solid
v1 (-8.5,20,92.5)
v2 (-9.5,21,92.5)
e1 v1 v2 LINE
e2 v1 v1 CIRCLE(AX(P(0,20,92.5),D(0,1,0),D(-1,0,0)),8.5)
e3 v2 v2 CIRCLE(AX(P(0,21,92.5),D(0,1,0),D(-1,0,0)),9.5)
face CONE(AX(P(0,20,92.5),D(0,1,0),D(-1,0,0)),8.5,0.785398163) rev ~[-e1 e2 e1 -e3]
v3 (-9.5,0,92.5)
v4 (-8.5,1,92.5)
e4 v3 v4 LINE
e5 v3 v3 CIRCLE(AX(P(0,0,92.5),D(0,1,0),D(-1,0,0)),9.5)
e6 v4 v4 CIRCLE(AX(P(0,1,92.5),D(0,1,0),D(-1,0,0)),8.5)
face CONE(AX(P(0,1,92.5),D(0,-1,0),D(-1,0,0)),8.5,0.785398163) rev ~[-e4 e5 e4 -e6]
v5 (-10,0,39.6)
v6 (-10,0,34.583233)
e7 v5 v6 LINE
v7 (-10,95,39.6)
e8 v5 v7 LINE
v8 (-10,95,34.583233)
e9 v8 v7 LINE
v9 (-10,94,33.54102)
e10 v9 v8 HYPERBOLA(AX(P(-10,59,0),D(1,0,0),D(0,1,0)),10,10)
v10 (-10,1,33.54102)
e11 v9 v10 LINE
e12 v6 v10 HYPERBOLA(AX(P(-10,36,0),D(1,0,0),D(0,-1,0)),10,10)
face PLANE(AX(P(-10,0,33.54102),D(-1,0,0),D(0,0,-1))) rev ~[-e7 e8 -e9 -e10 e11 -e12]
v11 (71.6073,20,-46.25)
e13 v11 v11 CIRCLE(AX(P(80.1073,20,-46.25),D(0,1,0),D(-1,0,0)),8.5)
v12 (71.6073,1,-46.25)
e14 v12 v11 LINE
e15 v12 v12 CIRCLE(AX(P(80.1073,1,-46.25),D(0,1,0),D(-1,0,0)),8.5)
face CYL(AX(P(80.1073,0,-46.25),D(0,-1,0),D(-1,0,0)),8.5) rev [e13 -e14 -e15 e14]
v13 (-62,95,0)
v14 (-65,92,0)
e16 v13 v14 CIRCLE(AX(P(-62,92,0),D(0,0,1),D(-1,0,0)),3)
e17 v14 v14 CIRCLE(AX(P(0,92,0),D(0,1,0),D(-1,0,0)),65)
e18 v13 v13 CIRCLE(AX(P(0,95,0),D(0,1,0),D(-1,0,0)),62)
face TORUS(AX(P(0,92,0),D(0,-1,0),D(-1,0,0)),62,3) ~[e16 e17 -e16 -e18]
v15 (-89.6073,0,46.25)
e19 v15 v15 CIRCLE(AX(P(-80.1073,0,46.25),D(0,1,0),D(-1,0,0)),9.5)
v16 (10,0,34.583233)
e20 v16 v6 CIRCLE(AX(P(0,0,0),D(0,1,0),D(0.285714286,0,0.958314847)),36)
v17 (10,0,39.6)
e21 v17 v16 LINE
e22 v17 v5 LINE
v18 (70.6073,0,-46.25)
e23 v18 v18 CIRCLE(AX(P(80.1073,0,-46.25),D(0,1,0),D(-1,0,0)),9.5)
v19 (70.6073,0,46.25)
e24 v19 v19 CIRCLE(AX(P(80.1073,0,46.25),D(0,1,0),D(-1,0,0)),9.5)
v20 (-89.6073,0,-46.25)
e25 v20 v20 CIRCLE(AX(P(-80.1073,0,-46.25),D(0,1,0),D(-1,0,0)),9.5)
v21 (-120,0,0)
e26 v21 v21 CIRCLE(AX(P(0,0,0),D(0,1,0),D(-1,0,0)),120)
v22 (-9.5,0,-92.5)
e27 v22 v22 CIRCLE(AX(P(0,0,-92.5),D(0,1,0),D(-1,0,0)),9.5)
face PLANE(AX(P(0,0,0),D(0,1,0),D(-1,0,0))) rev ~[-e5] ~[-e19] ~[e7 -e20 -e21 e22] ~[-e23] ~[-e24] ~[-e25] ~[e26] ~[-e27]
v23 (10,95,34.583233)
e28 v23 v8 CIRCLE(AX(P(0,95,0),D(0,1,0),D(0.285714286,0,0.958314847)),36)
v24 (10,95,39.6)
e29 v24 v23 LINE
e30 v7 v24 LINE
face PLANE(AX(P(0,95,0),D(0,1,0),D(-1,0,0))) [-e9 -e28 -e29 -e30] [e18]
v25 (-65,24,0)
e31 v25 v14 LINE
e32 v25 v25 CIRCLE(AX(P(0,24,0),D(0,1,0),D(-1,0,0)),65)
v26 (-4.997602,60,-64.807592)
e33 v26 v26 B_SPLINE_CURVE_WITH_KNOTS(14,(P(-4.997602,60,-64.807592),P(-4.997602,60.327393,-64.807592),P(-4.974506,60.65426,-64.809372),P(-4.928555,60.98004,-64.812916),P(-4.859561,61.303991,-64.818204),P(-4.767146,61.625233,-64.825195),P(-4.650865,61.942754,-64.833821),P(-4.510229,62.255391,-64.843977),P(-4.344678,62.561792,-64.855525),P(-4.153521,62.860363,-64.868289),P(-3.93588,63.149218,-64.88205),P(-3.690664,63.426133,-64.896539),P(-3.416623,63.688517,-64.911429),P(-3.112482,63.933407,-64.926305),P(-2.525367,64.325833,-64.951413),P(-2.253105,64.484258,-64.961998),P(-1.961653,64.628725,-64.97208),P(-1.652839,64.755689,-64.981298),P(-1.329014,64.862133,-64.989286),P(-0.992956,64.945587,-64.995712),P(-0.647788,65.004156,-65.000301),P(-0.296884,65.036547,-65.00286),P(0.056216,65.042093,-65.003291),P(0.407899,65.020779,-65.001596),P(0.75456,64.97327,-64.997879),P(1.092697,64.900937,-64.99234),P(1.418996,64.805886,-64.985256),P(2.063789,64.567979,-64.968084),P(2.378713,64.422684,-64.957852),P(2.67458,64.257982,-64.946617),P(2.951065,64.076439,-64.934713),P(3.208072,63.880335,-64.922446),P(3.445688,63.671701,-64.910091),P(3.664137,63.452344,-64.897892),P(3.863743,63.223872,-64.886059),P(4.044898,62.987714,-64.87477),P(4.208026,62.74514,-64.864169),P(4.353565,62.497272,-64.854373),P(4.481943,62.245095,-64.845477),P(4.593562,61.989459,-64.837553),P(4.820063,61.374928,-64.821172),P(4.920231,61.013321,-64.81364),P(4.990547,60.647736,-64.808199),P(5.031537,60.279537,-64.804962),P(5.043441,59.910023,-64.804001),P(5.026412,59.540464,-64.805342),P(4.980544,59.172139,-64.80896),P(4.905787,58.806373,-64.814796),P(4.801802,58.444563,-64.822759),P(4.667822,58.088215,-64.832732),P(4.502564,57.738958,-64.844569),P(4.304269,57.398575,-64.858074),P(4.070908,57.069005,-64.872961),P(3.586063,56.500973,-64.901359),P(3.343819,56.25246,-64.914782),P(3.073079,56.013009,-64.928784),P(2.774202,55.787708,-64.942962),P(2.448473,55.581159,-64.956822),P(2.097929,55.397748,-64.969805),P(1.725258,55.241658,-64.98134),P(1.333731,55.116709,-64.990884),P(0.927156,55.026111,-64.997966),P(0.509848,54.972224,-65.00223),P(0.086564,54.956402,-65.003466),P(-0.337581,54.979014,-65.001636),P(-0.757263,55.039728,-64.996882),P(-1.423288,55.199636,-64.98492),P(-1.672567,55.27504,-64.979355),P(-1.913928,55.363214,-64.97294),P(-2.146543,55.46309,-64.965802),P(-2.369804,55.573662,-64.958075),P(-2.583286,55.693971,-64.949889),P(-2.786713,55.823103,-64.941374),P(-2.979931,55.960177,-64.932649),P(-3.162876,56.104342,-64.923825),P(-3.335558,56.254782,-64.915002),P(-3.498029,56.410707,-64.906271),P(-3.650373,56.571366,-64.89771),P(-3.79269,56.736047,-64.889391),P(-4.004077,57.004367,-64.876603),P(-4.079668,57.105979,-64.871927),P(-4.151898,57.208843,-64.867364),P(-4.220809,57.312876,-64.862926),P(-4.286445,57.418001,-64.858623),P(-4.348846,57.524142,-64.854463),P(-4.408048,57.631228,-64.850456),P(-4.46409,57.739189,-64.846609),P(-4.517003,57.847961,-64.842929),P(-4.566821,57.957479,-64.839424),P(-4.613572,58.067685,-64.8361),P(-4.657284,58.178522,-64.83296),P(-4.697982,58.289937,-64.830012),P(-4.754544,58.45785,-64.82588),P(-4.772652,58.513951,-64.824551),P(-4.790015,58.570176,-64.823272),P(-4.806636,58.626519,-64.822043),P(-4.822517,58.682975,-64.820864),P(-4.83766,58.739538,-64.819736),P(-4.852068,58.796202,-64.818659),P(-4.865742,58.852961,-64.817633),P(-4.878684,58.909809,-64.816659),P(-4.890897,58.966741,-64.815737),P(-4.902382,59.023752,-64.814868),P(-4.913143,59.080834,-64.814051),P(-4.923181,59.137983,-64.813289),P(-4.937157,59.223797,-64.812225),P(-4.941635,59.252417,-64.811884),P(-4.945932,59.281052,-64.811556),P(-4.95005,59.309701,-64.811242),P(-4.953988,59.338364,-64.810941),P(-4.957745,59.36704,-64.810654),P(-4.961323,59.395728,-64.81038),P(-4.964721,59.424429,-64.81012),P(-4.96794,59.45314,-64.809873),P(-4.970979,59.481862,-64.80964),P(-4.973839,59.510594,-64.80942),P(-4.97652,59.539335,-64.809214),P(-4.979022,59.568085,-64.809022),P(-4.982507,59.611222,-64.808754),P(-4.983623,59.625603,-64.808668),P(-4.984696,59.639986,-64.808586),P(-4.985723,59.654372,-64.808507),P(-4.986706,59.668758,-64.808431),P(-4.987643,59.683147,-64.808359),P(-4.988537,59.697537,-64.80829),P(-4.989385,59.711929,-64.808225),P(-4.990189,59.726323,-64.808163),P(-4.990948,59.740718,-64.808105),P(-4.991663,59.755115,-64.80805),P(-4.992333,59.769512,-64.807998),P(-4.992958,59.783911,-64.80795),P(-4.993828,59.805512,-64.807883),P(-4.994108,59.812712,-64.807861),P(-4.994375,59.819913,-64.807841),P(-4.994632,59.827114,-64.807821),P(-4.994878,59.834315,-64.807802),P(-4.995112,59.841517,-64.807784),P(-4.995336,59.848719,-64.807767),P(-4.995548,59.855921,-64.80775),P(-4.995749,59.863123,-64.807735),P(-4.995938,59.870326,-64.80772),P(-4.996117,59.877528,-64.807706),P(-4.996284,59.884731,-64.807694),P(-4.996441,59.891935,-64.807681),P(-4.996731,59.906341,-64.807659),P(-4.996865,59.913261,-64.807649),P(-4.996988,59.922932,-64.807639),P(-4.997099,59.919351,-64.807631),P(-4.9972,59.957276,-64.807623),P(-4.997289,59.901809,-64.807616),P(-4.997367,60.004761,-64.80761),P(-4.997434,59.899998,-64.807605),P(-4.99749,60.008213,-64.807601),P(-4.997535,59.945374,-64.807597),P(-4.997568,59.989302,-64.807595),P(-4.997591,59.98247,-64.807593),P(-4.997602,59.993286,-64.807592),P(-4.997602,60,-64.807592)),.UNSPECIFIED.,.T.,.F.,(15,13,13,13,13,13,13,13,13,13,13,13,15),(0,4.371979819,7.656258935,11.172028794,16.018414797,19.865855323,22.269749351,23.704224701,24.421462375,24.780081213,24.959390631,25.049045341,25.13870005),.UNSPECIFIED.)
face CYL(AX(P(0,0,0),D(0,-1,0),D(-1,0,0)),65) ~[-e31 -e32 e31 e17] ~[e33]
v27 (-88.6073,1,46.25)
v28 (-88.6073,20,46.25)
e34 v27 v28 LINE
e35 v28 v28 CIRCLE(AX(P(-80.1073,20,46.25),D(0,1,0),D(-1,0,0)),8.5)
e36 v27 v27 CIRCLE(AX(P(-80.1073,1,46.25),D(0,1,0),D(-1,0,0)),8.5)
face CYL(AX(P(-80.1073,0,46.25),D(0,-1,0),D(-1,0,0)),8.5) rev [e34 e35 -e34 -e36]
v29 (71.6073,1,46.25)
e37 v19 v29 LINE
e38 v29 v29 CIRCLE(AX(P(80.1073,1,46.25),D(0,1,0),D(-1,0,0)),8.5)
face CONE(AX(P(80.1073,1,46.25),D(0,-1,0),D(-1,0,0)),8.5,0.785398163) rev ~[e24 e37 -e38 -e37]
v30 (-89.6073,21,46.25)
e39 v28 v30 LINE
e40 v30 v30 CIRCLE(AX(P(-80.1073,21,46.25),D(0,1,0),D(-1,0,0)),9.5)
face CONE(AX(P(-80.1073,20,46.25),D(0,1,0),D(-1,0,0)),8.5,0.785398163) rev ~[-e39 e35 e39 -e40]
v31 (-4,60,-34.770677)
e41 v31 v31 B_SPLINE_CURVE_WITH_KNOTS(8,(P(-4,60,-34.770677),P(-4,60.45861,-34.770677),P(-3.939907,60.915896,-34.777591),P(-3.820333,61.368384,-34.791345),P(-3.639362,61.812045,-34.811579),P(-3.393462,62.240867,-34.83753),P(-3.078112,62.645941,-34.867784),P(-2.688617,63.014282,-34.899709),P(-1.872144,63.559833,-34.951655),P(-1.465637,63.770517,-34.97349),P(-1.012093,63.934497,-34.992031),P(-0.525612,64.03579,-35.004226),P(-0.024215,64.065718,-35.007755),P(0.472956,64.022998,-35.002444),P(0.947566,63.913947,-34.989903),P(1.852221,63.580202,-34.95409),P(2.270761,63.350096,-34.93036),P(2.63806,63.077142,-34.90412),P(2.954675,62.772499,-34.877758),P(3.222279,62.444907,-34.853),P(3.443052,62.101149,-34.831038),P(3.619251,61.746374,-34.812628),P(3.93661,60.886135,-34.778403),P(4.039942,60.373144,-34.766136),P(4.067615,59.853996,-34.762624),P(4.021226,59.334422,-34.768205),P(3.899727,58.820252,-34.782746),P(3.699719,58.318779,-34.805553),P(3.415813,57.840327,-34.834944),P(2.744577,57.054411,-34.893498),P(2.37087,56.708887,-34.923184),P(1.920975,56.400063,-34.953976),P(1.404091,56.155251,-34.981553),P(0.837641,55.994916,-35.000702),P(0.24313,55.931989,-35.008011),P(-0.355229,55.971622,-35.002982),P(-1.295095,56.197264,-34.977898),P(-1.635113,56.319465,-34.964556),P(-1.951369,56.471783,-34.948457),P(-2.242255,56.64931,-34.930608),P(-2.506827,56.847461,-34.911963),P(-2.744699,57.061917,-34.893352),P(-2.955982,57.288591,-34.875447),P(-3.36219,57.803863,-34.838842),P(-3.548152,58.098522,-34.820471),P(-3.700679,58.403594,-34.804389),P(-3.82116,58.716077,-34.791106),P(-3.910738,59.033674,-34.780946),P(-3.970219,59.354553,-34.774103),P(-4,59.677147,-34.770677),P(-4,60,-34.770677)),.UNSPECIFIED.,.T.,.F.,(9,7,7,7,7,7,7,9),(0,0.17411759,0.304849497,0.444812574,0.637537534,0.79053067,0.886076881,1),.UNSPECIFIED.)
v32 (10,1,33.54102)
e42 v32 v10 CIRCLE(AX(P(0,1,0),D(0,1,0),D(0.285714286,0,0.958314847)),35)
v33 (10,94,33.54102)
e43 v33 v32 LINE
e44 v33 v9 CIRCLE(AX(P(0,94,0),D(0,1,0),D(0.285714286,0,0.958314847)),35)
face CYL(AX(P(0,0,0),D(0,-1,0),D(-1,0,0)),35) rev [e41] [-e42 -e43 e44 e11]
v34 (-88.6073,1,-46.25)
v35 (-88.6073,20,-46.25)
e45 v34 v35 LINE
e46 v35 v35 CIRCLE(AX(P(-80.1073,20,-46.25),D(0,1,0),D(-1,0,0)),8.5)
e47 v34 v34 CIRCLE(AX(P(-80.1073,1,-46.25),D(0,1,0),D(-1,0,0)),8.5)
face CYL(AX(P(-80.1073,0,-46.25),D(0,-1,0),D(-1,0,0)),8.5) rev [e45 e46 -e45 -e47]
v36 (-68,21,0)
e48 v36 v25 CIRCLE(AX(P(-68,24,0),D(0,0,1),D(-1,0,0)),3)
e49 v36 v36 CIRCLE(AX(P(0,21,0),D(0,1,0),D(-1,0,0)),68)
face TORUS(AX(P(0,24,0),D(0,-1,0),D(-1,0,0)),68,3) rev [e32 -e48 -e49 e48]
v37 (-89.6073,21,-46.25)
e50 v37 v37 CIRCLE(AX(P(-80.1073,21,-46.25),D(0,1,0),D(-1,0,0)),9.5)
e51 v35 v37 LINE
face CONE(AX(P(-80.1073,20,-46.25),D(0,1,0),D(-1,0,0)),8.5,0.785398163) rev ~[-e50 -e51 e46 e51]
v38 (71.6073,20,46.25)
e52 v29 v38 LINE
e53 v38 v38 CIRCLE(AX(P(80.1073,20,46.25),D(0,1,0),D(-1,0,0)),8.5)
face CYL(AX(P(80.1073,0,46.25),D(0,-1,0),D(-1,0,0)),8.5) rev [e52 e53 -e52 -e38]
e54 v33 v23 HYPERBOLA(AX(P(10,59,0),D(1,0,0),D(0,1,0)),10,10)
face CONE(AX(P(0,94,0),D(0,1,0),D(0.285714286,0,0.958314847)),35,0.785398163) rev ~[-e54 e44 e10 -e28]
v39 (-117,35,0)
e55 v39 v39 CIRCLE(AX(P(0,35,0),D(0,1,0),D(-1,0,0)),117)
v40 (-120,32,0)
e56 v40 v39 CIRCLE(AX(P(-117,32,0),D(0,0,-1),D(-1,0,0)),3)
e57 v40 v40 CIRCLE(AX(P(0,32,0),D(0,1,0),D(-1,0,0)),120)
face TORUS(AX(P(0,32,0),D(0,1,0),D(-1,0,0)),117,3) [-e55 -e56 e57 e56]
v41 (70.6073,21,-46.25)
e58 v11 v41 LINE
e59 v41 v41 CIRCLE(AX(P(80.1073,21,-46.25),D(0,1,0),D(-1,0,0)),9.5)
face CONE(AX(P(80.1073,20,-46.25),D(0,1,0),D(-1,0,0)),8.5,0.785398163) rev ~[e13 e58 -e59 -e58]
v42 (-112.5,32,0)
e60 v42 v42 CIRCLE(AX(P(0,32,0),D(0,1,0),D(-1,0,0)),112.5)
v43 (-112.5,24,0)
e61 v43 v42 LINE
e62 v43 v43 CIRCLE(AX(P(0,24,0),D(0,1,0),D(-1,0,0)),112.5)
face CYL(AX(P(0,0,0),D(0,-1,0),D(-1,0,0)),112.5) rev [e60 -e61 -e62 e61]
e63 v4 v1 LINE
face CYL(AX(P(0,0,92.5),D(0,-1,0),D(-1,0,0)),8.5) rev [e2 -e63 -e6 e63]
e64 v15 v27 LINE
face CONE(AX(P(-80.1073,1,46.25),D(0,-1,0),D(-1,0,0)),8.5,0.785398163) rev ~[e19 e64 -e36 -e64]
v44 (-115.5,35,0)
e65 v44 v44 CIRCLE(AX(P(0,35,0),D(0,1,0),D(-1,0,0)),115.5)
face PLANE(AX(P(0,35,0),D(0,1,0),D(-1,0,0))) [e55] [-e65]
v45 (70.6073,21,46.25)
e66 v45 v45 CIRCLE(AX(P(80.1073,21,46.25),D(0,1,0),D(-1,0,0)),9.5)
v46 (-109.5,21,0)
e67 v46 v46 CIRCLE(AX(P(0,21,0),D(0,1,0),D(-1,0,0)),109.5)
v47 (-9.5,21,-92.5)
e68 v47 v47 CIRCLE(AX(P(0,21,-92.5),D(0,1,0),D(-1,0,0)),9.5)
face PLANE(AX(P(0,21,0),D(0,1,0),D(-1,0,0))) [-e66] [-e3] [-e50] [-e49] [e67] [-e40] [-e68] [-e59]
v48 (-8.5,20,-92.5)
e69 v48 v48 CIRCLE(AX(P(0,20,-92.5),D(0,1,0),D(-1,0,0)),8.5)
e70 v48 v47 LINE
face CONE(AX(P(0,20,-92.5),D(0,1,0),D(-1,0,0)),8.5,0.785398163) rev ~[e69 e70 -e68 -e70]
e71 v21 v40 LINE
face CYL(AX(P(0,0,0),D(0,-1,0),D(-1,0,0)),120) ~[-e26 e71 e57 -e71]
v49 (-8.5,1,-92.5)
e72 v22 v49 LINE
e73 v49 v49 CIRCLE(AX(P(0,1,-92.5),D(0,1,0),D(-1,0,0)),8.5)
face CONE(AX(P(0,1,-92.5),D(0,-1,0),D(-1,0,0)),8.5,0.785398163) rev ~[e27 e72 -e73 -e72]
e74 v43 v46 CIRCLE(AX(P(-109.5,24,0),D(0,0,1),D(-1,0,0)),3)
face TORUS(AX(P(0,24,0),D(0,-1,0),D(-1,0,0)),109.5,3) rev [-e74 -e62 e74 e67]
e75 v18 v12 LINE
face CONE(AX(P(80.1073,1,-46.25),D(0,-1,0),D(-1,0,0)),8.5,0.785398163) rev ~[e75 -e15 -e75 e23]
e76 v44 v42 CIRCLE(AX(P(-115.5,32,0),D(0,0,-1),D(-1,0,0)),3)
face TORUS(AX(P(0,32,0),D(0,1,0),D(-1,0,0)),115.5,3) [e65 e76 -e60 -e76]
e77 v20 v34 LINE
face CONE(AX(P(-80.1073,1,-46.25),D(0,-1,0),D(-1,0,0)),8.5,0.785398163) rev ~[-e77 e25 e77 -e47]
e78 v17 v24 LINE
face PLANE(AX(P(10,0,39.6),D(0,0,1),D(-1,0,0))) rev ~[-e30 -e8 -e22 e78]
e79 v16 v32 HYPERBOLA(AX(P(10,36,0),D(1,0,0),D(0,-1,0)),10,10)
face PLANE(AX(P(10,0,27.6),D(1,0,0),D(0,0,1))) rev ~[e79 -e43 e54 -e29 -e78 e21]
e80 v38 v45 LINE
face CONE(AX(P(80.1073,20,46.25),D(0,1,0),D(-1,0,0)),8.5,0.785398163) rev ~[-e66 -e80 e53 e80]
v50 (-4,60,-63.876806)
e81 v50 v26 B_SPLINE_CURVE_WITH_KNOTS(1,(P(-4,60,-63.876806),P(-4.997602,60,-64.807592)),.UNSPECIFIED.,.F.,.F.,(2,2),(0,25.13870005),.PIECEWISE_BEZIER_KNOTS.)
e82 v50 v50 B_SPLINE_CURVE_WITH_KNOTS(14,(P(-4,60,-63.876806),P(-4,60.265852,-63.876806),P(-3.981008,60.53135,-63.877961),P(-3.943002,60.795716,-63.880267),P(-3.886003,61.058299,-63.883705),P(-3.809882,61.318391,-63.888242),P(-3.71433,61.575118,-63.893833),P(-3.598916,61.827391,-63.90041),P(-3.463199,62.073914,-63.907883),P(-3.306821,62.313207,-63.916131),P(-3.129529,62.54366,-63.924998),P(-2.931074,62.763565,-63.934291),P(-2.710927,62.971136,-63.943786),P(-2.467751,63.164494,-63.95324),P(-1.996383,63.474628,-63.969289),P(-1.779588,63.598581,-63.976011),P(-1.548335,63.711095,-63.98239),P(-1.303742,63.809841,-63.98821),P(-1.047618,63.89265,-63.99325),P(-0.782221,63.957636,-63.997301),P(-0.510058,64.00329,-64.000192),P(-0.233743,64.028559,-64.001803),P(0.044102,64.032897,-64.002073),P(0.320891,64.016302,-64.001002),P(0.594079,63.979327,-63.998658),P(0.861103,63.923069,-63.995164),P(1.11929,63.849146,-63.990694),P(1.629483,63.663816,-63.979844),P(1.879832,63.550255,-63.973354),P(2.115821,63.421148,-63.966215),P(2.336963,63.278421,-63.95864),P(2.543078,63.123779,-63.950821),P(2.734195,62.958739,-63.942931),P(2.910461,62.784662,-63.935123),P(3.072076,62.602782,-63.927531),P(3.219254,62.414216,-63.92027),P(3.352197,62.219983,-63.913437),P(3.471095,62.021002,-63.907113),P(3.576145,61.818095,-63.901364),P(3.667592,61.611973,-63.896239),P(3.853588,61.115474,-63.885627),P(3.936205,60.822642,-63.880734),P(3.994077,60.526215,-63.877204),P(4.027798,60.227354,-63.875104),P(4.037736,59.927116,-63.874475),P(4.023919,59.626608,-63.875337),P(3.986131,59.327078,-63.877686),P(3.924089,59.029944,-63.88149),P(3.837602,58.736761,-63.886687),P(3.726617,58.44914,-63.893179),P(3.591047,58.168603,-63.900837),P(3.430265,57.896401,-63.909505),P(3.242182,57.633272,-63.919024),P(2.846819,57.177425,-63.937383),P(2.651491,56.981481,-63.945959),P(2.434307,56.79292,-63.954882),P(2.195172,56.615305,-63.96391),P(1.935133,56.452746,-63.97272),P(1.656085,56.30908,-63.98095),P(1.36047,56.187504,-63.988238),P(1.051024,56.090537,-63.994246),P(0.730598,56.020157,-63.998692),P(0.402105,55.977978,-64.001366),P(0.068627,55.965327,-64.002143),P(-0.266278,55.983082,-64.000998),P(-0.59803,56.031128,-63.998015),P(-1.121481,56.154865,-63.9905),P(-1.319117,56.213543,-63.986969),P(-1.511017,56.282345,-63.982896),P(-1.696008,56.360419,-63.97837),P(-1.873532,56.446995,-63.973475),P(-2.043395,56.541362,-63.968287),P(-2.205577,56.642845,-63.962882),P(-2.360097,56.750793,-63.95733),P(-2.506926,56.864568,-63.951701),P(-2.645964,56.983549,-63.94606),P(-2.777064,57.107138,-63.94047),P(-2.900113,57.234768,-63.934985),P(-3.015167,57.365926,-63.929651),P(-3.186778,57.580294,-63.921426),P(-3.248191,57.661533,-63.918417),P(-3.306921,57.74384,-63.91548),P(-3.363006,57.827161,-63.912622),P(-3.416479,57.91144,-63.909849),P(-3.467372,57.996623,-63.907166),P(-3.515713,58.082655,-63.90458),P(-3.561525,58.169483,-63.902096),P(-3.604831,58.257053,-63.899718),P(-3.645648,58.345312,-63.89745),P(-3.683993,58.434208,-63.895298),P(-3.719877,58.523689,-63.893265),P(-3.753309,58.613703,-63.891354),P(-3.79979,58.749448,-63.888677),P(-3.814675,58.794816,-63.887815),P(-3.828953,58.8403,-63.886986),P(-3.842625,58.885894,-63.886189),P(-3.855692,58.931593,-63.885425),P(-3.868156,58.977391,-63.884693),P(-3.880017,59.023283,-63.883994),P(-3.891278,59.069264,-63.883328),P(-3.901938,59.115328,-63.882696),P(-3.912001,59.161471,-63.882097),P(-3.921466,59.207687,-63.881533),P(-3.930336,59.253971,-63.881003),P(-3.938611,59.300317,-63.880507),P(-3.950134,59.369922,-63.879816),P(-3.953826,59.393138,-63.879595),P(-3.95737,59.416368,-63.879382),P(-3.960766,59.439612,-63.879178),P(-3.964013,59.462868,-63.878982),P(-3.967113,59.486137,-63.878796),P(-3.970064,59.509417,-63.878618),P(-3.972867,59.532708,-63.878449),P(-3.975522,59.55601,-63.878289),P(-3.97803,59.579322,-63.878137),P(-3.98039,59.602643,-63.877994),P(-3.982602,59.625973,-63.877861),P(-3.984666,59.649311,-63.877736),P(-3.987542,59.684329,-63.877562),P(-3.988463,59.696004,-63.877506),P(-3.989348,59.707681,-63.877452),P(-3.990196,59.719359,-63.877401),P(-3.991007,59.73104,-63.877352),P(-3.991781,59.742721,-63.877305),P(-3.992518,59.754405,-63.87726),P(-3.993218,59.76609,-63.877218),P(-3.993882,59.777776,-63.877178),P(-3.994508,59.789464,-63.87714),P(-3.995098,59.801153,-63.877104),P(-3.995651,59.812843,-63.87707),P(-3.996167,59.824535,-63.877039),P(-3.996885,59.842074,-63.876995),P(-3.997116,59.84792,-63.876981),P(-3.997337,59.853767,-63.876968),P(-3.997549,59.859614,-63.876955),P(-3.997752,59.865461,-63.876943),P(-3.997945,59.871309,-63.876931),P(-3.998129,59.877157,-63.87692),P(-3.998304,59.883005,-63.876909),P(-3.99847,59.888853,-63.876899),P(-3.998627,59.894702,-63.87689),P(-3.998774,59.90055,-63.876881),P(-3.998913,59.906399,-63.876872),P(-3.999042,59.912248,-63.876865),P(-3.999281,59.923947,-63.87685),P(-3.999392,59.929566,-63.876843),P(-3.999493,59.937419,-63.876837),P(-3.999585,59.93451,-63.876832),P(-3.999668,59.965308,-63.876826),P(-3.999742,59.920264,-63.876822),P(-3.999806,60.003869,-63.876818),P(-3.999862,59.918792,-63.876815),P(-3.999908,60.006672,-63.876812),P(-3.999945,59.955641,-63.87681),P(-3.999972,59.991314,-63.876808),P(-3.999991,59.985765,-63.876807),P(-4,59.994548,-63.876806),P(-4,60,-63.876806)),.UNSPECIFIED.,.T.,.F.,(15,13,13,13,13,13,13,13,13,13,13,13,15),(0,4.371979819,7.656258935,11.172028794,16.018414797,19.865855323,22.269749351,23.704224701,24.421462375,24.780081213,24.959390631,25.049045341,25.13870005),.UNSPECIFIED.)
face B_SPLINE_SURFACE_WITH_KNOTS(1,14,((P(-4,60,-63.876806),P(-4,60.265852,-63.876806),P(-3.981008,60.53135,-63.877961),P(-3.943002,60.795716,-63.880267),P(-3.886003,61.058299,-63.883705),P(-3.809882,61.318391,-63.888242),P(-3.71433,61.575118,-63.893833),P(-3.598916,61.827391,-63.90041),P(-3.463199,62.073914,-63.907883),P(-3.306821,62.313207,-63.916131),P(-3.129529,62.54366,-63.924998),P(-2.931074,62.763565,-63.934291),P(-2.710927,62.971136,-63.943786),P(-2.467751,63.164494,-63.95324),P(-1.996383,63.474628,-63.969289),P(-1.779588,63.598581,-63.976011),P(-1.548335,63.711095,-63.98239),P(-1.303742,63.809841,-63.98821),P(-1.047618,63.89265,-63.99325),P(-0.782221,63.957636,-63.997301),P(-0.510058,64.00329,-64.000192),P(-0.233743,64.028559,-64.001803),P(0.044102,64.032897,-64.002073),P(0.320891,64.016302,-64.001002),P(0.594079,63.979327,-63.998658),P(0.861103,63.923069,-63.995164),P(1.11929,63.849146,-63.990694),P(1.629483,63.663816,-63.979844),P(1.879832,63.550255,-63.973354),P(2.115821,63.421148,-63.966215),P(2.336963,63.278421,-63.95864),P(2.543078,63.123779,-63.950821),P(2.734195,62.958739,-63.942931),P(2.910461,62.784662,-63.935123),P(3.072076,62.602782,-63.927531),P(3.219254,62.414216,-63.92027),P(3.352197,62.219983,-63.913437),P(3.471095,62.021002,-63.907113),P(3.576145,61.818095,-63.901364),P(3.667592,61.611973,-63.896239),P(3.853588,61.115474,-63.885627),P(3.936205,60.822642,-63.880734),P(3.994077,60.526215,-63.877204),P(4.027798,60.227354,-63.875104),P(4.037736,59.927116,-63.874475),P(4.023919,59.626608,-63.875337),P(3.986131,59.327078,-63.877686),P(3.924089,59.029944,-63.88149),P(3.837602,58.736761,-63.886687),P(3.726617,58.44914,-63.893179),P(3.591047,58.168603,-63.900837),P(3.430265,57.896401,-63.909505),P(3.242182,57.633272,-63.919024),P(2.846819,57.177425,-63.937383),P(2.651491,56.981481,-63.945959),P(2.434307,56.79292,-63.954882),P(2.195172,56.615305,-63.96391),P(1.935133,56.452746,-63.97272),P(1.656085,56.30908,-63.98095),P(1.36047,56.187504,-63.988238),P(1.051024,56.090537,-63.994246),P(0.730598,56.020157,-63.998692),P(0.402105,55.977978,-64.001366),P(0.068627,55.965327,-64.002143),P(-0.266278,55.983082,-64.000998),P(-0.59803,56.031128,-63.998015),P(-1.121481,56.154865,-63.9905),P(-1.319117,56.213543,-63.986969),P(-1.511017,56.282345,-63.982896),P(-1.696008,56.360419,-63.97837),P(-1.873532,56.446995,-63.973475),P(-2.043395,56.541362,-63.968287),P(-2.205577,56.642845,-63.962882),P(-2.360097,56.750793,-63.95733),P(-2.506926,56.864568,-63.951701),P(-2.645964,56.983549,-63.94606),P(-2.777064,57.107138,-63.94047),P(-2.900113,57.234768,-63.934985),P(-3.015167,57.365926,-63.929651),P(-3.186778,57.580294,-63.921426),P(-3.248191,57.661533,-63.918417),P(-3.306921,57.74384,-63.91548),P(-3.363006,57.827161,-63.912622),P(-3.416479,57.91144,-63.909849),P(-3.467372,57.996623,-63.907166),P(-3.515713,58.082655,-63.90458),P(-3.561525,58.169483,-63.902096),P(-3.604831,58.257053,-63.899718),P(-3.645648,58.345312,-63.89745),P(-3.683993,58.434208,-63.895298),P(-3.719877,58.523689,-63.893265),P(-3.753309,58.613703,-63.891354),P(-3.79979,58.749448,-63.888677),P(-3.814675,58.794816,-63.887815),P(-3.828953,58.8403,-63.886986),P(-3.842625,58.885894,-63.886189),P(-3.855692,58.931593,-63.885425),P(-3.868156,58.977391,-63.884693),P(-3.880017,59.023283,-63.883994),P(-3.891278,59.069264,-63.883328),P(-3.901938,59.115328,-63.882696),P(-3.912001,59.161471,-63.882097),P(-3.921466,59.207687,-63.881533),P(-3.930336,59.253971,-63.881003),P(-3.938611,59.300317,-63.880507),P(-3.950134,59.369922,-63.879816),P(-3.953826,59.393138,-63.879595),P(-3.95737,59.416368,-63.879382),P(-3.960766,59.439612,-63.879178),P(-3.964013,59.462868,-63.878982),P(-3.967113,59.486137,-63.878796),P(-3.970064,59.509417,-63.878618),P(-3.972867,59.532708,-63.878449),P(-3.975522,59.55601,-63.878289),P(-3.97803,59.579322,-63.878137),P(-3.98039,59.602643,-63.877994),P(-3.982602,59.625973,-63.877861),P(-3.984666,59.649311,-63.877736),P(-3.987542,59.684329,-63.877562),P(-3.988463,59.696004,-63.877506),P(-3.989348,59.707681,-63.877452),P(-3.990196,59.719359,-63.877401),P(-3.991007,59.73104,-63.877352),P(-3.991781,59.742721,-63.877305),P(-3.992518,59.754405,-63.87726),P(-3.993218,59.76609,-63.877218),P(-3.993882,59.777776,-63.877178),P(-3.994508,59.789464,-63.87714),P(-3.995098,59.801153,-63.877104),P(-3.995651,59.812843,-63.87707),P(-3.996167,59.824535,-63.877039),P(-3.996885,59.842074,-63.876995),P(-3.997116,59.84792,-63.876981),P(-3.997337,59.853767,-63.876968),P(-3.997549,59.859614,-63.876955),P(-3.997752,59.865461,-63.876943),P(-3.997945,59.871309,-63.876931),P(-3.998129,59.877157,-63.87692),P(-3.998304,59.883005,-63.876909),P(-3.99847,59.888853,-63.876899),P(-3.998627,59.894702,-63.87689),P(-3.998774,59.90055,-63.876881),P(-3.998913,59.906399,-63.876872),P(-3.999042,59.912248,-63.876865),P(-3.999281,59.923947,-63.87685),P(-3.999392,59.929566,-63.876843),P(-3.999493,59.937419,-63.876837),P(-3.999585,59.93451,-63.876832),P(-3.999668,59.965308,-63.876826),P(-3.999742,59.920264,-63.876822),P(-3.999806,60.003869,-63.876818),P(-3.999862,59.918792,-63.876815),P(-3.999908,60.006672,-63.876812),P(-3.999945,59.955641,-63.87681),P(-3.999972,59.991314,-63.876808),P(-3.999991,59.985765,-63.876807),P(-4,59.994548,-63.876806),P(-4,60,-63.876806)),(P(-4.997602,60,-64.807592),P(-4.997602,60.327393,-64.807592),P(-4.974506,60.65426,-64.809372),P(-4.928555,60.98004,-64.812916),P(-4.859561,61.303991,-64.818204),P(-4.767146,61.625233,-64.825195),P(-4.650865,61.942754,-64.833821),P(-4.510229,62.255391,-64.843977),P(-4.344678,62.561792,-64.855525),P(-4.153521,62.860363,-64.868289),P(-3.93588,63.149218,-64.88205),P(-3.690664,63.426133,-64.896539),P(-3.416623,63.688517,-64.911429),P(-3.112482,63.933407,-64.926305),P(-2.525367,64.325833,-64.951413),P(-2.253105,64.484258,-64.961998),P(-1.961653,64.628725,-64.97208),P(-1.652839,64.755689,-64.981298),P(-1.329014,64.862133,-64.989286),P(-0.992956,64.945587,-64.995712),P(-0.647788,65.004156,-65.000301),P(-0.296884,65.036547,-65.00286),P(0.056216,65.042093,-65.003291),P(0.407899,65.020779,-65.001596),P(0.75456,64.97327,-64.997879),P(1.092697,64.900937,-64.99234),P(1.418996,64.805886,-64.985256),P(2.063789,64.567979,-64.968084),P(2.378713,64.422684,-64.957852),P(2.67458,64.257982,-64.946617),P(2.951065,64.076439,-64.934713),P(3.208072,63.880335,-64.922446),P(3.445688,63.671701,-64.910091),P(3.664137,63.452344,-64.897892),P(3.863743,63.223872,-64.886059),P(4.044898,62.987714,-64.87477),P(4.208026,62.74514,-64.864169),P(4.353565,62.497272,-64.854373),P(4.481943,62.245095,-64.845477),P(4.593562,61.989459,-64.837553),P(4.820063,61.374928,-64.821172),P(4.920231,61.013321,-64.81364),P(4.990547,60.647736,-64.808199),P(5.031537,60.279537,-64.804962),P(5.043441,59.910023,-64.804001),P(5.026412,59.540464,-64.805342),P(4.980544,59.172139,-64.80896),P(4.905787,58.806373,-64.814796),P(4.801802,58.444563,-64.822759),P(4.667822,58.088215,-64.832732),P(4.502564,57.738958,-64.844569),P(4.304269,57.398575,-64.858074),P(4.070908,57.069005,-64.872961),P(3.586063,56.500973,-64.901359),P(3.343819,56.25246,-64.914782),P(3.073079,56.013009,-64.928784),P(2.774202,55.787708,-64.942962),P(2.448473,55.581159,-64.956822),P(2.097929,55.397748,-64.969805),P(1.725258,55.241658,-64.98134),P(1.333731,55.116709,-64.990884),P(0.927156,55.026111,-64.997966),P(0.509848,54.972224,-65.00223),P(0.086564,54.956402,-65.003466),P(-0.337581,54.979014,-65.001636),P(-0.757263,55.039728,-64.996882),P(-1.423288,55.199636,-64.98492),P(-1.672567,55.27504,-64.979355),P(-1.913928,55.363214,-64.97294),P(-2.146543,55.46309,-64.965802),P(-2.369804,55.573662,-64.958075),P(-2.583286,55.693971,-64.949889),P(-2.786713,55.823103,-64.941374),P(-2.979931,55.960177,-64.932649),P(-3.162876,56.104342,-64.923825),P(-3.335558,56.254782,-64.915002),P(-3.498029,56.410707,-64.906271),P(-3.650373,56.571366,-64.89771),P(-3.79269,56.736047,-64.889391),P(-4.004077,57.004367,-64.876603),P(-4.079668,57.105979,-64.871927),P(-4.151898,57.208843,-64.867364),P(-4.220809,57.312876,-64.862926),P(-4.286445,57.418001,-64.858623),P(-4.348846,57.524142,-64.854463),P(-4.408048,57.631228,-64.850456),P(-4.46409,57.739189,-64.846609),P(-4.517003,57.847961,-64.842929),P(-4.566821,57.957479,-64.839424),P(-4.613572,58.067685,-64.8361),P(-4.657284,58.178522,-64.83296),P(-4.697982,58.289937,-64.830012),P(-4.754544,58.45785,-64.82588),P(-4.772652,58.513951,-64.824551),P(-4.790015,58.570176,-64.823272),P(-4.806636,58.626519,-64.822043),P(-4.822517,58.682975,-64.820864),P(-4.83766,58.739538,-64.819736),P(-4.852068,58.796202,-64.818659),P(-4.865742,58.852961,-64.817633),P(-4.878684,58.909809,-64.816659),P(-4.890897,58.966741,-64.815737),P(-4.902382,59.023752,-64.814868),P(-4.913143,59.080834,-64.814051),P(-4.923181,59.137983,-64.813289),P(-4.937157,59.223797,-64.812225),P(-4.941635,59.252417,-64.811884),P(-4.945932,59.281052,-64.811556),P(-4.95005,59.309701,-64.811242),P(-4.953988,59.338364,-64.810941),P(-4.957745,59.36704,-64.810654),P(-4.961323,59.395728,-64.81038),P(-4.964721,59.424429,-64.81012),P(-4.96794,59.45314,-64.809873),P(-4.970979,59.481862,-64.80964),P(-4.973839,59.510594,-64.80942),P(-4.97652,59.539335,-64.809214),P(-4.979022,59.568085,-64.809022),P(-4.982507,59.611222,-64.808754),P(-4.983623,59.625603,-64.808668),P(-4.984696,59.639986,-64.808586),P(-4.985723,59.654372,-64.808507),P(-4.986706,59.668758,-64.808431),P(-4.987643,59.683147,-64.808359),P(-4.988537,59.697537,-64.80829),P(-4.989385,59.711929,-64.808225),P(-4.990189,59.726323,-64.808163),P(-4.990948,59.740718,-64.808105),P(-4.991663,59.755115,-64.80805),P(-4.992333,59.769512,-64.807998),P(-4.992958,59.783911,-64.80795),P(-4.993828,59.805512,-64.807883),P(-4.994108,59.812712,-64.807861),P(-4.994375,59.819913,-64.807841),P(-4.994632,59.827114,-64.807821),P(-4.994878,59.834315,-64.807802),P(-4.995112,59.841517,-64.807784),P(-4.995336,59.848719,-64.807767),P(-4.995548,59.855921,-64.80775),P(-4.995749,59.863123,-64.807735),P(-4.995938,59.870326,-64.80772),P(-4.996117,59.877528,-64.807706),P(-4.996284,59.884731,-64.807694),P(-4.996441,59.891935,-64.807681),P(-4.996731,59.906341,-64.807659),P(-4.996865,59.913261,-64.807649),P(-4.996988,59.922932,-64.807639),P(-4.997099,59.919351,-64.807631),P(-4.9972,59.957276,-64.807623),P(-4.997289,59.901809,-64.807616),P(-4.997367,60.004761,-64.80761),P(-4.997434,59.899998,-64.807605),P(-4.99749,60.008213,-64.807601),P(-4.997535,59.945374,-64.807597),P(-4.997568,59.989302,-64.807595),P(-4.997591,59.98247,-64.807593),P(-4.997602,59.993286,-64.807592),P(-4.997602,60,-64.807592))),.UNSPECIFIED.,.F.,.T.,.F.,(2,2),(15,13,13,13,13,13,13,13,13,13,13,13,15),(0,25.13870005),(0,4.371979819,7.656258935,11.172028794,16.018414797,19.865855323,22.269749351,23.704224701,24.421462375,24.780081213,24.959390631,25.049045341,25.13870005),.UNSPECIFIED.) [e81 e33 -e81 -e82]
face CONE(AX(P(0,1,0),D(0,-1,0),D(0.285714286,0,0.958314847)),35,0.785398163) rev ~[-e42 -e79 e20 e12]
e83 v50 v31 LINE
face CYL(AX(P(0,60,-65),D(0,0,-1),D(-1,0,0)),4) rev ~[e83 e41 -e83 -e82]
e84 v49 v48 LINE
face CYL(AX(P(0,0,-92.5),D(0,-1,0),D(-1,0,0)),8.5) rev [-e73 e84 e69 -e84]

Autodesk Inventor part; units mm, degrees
ref_plane "YZ Plane" through (0, 0, 0) normal (1, 0, 0) x (0, 1, 0)
ref_plane "XZ Plane" through (0, 0, 0) normal (0, 1, 0) x (-1, 0, 0)
ref_plane "XY Plane" through (0, 0, 0) normal (0, 0, 1) x (1, 0, 0)
sketch "Náčrt1" plane through (0, 0, 0) normal (0, 1, 0) x (-1, 0, 0)
  circle A0 centre (0, 0) radius 120
  circle A1 centre (0, 0) radius 112.5
  circle A2 centre (0, 0) radius 35
  circle A3 centre (0, 0) radius 65
  circle A4 centre (0, -92.5) radius 8.5
  line L0 (0, -65) -> (0, -92.5) construction
  circle A5 centre (80.1073, -46.25) radius 8.5
  circle A6 centre (80.1073, 46.25) radius 8.5
  circle A7 centre (0, 92.5) radius 8.5
  circle A8 centre (-80.1073, 46.25) radius 8.5
  circle A9 centre (-80.1073, -46.25) radius 8.5
  dimension "d3" = 130
  dimension "d0" = 240
  dimension "d1" = 225
  dimension "d2" = 70
  dimension "d59" = 17
  dimension "d61" = 27.5
  dimension "d64" = 360
  dimension "d67" = 185
extrude "Vysunutí1" add sketch "Náčrt1" along normal blind 95 contours A3
extrude "Vysunutí2" add sketch "Náčrt1" along normal blind 21 contours A1
extrude "Vysunutí3" add sketch "Náčrt1" along normal blind 35 contours A0
sketch "Náčrt3" plane through (0, 0, 0) normal (0, -1, 0) x (1, 0, 0)
  circle A0 centre (0, 0) radius 35 projected
  line L0 (10, 39.6) -> (-10, 39.6)
  line L1 (-10, 39.6) -> (-10, 27.6)
  line L2 (-10, 27.6) -> (10, 27.6)
  line L3 (10, 27.6) -> (10, 39.6)
  point P0 (0, 35)
  point P1 (0, 39.6)
  point P2 (0, 27.6)
  point P3 (10, 33.541)
  point P4 (-10, 33.541)
  dimension "d99" = 20
  dimension "d100" = 12
  dimension "d101" = 4.6
  dimension "d102" = 27.6
  dimension "d103" = 7.4
extrude "Vysunutí5" cut sketch "Náčrt3" against normal through all contours L3 L2 L1 A0 | A0 L1 L0 L3 picked at (-1.1251, 30.0123)
fillet "Fillet1" radius 3 5 edges at (112.5, 21, 0) (65, 21, 0) (112.5, 35, 0) (120, 35, 0) (65, 95, 0)
sketch "Sketch8" plane through (0, 0, 0) normal (0, -1, 0) x (1, 0, 0)
  line L0 (0, 0) -> (-140, 0)
  line L1 (-140, 0) -> (-140, -140)
  line L2 (-140, -140) -> (0, -140)
  line L3 (0, -140) -> (0, 0)
  dimension "d94" = 140
  dimension "d95" = 140
extrude "Extrusion10" [suppressed]
ref_plane "Work Plane3" through (0, 0, -65) normal (0, 0, -1) x (-1, 0, 0)
sketch "Sketch9" plane through (0, 0, -65) normal (0, 0, -1) x (-1, 0, 0)
  circle A0 centre (0, 60) radius 4
  line L0 (120, 0) -> (-120, 0) projected
  line L1 (10, 95) -> (10, 0) projected
  point P0 (0, 0)
  point P1 (0, 0)
  dimension "d104" = 8
  dimension "d106" = 60
  dimension "d107" = 10
extrude "Extrusion11" cut sketch "Sketch9" against normal blind 45
thread "Thread7" size "M8x1.25" class "6H" standard "ANSI Metric M Profile" full length
chamfer "Zkosení1" distance 1 angle 45 17 edges at (0, 95, -35) (0, 0, -35) (-71.6073, 21, -46.25) (-71.6073, 21, 46.25) (88.6073, 21, 46.25) (8.5, 21, 92.5) (88.6073, 21, -46.25) (8.5, 21, -92.5) (8.5, 0, 92.5) (88.6073, 0, 46.25) (88.6073, 0, -46.25) (8.5, 0, -92.5) (-71.6073, 0, -46.25) (-71.6073, 0, 46.25) (-3.0577, 62.5789, -64.928) (3.9998, 60.0388, -64.8768) (-3.0452, 57.4064, -64.9286)
properties part number "S2spojkav3" material "ČSN 42 2420"
